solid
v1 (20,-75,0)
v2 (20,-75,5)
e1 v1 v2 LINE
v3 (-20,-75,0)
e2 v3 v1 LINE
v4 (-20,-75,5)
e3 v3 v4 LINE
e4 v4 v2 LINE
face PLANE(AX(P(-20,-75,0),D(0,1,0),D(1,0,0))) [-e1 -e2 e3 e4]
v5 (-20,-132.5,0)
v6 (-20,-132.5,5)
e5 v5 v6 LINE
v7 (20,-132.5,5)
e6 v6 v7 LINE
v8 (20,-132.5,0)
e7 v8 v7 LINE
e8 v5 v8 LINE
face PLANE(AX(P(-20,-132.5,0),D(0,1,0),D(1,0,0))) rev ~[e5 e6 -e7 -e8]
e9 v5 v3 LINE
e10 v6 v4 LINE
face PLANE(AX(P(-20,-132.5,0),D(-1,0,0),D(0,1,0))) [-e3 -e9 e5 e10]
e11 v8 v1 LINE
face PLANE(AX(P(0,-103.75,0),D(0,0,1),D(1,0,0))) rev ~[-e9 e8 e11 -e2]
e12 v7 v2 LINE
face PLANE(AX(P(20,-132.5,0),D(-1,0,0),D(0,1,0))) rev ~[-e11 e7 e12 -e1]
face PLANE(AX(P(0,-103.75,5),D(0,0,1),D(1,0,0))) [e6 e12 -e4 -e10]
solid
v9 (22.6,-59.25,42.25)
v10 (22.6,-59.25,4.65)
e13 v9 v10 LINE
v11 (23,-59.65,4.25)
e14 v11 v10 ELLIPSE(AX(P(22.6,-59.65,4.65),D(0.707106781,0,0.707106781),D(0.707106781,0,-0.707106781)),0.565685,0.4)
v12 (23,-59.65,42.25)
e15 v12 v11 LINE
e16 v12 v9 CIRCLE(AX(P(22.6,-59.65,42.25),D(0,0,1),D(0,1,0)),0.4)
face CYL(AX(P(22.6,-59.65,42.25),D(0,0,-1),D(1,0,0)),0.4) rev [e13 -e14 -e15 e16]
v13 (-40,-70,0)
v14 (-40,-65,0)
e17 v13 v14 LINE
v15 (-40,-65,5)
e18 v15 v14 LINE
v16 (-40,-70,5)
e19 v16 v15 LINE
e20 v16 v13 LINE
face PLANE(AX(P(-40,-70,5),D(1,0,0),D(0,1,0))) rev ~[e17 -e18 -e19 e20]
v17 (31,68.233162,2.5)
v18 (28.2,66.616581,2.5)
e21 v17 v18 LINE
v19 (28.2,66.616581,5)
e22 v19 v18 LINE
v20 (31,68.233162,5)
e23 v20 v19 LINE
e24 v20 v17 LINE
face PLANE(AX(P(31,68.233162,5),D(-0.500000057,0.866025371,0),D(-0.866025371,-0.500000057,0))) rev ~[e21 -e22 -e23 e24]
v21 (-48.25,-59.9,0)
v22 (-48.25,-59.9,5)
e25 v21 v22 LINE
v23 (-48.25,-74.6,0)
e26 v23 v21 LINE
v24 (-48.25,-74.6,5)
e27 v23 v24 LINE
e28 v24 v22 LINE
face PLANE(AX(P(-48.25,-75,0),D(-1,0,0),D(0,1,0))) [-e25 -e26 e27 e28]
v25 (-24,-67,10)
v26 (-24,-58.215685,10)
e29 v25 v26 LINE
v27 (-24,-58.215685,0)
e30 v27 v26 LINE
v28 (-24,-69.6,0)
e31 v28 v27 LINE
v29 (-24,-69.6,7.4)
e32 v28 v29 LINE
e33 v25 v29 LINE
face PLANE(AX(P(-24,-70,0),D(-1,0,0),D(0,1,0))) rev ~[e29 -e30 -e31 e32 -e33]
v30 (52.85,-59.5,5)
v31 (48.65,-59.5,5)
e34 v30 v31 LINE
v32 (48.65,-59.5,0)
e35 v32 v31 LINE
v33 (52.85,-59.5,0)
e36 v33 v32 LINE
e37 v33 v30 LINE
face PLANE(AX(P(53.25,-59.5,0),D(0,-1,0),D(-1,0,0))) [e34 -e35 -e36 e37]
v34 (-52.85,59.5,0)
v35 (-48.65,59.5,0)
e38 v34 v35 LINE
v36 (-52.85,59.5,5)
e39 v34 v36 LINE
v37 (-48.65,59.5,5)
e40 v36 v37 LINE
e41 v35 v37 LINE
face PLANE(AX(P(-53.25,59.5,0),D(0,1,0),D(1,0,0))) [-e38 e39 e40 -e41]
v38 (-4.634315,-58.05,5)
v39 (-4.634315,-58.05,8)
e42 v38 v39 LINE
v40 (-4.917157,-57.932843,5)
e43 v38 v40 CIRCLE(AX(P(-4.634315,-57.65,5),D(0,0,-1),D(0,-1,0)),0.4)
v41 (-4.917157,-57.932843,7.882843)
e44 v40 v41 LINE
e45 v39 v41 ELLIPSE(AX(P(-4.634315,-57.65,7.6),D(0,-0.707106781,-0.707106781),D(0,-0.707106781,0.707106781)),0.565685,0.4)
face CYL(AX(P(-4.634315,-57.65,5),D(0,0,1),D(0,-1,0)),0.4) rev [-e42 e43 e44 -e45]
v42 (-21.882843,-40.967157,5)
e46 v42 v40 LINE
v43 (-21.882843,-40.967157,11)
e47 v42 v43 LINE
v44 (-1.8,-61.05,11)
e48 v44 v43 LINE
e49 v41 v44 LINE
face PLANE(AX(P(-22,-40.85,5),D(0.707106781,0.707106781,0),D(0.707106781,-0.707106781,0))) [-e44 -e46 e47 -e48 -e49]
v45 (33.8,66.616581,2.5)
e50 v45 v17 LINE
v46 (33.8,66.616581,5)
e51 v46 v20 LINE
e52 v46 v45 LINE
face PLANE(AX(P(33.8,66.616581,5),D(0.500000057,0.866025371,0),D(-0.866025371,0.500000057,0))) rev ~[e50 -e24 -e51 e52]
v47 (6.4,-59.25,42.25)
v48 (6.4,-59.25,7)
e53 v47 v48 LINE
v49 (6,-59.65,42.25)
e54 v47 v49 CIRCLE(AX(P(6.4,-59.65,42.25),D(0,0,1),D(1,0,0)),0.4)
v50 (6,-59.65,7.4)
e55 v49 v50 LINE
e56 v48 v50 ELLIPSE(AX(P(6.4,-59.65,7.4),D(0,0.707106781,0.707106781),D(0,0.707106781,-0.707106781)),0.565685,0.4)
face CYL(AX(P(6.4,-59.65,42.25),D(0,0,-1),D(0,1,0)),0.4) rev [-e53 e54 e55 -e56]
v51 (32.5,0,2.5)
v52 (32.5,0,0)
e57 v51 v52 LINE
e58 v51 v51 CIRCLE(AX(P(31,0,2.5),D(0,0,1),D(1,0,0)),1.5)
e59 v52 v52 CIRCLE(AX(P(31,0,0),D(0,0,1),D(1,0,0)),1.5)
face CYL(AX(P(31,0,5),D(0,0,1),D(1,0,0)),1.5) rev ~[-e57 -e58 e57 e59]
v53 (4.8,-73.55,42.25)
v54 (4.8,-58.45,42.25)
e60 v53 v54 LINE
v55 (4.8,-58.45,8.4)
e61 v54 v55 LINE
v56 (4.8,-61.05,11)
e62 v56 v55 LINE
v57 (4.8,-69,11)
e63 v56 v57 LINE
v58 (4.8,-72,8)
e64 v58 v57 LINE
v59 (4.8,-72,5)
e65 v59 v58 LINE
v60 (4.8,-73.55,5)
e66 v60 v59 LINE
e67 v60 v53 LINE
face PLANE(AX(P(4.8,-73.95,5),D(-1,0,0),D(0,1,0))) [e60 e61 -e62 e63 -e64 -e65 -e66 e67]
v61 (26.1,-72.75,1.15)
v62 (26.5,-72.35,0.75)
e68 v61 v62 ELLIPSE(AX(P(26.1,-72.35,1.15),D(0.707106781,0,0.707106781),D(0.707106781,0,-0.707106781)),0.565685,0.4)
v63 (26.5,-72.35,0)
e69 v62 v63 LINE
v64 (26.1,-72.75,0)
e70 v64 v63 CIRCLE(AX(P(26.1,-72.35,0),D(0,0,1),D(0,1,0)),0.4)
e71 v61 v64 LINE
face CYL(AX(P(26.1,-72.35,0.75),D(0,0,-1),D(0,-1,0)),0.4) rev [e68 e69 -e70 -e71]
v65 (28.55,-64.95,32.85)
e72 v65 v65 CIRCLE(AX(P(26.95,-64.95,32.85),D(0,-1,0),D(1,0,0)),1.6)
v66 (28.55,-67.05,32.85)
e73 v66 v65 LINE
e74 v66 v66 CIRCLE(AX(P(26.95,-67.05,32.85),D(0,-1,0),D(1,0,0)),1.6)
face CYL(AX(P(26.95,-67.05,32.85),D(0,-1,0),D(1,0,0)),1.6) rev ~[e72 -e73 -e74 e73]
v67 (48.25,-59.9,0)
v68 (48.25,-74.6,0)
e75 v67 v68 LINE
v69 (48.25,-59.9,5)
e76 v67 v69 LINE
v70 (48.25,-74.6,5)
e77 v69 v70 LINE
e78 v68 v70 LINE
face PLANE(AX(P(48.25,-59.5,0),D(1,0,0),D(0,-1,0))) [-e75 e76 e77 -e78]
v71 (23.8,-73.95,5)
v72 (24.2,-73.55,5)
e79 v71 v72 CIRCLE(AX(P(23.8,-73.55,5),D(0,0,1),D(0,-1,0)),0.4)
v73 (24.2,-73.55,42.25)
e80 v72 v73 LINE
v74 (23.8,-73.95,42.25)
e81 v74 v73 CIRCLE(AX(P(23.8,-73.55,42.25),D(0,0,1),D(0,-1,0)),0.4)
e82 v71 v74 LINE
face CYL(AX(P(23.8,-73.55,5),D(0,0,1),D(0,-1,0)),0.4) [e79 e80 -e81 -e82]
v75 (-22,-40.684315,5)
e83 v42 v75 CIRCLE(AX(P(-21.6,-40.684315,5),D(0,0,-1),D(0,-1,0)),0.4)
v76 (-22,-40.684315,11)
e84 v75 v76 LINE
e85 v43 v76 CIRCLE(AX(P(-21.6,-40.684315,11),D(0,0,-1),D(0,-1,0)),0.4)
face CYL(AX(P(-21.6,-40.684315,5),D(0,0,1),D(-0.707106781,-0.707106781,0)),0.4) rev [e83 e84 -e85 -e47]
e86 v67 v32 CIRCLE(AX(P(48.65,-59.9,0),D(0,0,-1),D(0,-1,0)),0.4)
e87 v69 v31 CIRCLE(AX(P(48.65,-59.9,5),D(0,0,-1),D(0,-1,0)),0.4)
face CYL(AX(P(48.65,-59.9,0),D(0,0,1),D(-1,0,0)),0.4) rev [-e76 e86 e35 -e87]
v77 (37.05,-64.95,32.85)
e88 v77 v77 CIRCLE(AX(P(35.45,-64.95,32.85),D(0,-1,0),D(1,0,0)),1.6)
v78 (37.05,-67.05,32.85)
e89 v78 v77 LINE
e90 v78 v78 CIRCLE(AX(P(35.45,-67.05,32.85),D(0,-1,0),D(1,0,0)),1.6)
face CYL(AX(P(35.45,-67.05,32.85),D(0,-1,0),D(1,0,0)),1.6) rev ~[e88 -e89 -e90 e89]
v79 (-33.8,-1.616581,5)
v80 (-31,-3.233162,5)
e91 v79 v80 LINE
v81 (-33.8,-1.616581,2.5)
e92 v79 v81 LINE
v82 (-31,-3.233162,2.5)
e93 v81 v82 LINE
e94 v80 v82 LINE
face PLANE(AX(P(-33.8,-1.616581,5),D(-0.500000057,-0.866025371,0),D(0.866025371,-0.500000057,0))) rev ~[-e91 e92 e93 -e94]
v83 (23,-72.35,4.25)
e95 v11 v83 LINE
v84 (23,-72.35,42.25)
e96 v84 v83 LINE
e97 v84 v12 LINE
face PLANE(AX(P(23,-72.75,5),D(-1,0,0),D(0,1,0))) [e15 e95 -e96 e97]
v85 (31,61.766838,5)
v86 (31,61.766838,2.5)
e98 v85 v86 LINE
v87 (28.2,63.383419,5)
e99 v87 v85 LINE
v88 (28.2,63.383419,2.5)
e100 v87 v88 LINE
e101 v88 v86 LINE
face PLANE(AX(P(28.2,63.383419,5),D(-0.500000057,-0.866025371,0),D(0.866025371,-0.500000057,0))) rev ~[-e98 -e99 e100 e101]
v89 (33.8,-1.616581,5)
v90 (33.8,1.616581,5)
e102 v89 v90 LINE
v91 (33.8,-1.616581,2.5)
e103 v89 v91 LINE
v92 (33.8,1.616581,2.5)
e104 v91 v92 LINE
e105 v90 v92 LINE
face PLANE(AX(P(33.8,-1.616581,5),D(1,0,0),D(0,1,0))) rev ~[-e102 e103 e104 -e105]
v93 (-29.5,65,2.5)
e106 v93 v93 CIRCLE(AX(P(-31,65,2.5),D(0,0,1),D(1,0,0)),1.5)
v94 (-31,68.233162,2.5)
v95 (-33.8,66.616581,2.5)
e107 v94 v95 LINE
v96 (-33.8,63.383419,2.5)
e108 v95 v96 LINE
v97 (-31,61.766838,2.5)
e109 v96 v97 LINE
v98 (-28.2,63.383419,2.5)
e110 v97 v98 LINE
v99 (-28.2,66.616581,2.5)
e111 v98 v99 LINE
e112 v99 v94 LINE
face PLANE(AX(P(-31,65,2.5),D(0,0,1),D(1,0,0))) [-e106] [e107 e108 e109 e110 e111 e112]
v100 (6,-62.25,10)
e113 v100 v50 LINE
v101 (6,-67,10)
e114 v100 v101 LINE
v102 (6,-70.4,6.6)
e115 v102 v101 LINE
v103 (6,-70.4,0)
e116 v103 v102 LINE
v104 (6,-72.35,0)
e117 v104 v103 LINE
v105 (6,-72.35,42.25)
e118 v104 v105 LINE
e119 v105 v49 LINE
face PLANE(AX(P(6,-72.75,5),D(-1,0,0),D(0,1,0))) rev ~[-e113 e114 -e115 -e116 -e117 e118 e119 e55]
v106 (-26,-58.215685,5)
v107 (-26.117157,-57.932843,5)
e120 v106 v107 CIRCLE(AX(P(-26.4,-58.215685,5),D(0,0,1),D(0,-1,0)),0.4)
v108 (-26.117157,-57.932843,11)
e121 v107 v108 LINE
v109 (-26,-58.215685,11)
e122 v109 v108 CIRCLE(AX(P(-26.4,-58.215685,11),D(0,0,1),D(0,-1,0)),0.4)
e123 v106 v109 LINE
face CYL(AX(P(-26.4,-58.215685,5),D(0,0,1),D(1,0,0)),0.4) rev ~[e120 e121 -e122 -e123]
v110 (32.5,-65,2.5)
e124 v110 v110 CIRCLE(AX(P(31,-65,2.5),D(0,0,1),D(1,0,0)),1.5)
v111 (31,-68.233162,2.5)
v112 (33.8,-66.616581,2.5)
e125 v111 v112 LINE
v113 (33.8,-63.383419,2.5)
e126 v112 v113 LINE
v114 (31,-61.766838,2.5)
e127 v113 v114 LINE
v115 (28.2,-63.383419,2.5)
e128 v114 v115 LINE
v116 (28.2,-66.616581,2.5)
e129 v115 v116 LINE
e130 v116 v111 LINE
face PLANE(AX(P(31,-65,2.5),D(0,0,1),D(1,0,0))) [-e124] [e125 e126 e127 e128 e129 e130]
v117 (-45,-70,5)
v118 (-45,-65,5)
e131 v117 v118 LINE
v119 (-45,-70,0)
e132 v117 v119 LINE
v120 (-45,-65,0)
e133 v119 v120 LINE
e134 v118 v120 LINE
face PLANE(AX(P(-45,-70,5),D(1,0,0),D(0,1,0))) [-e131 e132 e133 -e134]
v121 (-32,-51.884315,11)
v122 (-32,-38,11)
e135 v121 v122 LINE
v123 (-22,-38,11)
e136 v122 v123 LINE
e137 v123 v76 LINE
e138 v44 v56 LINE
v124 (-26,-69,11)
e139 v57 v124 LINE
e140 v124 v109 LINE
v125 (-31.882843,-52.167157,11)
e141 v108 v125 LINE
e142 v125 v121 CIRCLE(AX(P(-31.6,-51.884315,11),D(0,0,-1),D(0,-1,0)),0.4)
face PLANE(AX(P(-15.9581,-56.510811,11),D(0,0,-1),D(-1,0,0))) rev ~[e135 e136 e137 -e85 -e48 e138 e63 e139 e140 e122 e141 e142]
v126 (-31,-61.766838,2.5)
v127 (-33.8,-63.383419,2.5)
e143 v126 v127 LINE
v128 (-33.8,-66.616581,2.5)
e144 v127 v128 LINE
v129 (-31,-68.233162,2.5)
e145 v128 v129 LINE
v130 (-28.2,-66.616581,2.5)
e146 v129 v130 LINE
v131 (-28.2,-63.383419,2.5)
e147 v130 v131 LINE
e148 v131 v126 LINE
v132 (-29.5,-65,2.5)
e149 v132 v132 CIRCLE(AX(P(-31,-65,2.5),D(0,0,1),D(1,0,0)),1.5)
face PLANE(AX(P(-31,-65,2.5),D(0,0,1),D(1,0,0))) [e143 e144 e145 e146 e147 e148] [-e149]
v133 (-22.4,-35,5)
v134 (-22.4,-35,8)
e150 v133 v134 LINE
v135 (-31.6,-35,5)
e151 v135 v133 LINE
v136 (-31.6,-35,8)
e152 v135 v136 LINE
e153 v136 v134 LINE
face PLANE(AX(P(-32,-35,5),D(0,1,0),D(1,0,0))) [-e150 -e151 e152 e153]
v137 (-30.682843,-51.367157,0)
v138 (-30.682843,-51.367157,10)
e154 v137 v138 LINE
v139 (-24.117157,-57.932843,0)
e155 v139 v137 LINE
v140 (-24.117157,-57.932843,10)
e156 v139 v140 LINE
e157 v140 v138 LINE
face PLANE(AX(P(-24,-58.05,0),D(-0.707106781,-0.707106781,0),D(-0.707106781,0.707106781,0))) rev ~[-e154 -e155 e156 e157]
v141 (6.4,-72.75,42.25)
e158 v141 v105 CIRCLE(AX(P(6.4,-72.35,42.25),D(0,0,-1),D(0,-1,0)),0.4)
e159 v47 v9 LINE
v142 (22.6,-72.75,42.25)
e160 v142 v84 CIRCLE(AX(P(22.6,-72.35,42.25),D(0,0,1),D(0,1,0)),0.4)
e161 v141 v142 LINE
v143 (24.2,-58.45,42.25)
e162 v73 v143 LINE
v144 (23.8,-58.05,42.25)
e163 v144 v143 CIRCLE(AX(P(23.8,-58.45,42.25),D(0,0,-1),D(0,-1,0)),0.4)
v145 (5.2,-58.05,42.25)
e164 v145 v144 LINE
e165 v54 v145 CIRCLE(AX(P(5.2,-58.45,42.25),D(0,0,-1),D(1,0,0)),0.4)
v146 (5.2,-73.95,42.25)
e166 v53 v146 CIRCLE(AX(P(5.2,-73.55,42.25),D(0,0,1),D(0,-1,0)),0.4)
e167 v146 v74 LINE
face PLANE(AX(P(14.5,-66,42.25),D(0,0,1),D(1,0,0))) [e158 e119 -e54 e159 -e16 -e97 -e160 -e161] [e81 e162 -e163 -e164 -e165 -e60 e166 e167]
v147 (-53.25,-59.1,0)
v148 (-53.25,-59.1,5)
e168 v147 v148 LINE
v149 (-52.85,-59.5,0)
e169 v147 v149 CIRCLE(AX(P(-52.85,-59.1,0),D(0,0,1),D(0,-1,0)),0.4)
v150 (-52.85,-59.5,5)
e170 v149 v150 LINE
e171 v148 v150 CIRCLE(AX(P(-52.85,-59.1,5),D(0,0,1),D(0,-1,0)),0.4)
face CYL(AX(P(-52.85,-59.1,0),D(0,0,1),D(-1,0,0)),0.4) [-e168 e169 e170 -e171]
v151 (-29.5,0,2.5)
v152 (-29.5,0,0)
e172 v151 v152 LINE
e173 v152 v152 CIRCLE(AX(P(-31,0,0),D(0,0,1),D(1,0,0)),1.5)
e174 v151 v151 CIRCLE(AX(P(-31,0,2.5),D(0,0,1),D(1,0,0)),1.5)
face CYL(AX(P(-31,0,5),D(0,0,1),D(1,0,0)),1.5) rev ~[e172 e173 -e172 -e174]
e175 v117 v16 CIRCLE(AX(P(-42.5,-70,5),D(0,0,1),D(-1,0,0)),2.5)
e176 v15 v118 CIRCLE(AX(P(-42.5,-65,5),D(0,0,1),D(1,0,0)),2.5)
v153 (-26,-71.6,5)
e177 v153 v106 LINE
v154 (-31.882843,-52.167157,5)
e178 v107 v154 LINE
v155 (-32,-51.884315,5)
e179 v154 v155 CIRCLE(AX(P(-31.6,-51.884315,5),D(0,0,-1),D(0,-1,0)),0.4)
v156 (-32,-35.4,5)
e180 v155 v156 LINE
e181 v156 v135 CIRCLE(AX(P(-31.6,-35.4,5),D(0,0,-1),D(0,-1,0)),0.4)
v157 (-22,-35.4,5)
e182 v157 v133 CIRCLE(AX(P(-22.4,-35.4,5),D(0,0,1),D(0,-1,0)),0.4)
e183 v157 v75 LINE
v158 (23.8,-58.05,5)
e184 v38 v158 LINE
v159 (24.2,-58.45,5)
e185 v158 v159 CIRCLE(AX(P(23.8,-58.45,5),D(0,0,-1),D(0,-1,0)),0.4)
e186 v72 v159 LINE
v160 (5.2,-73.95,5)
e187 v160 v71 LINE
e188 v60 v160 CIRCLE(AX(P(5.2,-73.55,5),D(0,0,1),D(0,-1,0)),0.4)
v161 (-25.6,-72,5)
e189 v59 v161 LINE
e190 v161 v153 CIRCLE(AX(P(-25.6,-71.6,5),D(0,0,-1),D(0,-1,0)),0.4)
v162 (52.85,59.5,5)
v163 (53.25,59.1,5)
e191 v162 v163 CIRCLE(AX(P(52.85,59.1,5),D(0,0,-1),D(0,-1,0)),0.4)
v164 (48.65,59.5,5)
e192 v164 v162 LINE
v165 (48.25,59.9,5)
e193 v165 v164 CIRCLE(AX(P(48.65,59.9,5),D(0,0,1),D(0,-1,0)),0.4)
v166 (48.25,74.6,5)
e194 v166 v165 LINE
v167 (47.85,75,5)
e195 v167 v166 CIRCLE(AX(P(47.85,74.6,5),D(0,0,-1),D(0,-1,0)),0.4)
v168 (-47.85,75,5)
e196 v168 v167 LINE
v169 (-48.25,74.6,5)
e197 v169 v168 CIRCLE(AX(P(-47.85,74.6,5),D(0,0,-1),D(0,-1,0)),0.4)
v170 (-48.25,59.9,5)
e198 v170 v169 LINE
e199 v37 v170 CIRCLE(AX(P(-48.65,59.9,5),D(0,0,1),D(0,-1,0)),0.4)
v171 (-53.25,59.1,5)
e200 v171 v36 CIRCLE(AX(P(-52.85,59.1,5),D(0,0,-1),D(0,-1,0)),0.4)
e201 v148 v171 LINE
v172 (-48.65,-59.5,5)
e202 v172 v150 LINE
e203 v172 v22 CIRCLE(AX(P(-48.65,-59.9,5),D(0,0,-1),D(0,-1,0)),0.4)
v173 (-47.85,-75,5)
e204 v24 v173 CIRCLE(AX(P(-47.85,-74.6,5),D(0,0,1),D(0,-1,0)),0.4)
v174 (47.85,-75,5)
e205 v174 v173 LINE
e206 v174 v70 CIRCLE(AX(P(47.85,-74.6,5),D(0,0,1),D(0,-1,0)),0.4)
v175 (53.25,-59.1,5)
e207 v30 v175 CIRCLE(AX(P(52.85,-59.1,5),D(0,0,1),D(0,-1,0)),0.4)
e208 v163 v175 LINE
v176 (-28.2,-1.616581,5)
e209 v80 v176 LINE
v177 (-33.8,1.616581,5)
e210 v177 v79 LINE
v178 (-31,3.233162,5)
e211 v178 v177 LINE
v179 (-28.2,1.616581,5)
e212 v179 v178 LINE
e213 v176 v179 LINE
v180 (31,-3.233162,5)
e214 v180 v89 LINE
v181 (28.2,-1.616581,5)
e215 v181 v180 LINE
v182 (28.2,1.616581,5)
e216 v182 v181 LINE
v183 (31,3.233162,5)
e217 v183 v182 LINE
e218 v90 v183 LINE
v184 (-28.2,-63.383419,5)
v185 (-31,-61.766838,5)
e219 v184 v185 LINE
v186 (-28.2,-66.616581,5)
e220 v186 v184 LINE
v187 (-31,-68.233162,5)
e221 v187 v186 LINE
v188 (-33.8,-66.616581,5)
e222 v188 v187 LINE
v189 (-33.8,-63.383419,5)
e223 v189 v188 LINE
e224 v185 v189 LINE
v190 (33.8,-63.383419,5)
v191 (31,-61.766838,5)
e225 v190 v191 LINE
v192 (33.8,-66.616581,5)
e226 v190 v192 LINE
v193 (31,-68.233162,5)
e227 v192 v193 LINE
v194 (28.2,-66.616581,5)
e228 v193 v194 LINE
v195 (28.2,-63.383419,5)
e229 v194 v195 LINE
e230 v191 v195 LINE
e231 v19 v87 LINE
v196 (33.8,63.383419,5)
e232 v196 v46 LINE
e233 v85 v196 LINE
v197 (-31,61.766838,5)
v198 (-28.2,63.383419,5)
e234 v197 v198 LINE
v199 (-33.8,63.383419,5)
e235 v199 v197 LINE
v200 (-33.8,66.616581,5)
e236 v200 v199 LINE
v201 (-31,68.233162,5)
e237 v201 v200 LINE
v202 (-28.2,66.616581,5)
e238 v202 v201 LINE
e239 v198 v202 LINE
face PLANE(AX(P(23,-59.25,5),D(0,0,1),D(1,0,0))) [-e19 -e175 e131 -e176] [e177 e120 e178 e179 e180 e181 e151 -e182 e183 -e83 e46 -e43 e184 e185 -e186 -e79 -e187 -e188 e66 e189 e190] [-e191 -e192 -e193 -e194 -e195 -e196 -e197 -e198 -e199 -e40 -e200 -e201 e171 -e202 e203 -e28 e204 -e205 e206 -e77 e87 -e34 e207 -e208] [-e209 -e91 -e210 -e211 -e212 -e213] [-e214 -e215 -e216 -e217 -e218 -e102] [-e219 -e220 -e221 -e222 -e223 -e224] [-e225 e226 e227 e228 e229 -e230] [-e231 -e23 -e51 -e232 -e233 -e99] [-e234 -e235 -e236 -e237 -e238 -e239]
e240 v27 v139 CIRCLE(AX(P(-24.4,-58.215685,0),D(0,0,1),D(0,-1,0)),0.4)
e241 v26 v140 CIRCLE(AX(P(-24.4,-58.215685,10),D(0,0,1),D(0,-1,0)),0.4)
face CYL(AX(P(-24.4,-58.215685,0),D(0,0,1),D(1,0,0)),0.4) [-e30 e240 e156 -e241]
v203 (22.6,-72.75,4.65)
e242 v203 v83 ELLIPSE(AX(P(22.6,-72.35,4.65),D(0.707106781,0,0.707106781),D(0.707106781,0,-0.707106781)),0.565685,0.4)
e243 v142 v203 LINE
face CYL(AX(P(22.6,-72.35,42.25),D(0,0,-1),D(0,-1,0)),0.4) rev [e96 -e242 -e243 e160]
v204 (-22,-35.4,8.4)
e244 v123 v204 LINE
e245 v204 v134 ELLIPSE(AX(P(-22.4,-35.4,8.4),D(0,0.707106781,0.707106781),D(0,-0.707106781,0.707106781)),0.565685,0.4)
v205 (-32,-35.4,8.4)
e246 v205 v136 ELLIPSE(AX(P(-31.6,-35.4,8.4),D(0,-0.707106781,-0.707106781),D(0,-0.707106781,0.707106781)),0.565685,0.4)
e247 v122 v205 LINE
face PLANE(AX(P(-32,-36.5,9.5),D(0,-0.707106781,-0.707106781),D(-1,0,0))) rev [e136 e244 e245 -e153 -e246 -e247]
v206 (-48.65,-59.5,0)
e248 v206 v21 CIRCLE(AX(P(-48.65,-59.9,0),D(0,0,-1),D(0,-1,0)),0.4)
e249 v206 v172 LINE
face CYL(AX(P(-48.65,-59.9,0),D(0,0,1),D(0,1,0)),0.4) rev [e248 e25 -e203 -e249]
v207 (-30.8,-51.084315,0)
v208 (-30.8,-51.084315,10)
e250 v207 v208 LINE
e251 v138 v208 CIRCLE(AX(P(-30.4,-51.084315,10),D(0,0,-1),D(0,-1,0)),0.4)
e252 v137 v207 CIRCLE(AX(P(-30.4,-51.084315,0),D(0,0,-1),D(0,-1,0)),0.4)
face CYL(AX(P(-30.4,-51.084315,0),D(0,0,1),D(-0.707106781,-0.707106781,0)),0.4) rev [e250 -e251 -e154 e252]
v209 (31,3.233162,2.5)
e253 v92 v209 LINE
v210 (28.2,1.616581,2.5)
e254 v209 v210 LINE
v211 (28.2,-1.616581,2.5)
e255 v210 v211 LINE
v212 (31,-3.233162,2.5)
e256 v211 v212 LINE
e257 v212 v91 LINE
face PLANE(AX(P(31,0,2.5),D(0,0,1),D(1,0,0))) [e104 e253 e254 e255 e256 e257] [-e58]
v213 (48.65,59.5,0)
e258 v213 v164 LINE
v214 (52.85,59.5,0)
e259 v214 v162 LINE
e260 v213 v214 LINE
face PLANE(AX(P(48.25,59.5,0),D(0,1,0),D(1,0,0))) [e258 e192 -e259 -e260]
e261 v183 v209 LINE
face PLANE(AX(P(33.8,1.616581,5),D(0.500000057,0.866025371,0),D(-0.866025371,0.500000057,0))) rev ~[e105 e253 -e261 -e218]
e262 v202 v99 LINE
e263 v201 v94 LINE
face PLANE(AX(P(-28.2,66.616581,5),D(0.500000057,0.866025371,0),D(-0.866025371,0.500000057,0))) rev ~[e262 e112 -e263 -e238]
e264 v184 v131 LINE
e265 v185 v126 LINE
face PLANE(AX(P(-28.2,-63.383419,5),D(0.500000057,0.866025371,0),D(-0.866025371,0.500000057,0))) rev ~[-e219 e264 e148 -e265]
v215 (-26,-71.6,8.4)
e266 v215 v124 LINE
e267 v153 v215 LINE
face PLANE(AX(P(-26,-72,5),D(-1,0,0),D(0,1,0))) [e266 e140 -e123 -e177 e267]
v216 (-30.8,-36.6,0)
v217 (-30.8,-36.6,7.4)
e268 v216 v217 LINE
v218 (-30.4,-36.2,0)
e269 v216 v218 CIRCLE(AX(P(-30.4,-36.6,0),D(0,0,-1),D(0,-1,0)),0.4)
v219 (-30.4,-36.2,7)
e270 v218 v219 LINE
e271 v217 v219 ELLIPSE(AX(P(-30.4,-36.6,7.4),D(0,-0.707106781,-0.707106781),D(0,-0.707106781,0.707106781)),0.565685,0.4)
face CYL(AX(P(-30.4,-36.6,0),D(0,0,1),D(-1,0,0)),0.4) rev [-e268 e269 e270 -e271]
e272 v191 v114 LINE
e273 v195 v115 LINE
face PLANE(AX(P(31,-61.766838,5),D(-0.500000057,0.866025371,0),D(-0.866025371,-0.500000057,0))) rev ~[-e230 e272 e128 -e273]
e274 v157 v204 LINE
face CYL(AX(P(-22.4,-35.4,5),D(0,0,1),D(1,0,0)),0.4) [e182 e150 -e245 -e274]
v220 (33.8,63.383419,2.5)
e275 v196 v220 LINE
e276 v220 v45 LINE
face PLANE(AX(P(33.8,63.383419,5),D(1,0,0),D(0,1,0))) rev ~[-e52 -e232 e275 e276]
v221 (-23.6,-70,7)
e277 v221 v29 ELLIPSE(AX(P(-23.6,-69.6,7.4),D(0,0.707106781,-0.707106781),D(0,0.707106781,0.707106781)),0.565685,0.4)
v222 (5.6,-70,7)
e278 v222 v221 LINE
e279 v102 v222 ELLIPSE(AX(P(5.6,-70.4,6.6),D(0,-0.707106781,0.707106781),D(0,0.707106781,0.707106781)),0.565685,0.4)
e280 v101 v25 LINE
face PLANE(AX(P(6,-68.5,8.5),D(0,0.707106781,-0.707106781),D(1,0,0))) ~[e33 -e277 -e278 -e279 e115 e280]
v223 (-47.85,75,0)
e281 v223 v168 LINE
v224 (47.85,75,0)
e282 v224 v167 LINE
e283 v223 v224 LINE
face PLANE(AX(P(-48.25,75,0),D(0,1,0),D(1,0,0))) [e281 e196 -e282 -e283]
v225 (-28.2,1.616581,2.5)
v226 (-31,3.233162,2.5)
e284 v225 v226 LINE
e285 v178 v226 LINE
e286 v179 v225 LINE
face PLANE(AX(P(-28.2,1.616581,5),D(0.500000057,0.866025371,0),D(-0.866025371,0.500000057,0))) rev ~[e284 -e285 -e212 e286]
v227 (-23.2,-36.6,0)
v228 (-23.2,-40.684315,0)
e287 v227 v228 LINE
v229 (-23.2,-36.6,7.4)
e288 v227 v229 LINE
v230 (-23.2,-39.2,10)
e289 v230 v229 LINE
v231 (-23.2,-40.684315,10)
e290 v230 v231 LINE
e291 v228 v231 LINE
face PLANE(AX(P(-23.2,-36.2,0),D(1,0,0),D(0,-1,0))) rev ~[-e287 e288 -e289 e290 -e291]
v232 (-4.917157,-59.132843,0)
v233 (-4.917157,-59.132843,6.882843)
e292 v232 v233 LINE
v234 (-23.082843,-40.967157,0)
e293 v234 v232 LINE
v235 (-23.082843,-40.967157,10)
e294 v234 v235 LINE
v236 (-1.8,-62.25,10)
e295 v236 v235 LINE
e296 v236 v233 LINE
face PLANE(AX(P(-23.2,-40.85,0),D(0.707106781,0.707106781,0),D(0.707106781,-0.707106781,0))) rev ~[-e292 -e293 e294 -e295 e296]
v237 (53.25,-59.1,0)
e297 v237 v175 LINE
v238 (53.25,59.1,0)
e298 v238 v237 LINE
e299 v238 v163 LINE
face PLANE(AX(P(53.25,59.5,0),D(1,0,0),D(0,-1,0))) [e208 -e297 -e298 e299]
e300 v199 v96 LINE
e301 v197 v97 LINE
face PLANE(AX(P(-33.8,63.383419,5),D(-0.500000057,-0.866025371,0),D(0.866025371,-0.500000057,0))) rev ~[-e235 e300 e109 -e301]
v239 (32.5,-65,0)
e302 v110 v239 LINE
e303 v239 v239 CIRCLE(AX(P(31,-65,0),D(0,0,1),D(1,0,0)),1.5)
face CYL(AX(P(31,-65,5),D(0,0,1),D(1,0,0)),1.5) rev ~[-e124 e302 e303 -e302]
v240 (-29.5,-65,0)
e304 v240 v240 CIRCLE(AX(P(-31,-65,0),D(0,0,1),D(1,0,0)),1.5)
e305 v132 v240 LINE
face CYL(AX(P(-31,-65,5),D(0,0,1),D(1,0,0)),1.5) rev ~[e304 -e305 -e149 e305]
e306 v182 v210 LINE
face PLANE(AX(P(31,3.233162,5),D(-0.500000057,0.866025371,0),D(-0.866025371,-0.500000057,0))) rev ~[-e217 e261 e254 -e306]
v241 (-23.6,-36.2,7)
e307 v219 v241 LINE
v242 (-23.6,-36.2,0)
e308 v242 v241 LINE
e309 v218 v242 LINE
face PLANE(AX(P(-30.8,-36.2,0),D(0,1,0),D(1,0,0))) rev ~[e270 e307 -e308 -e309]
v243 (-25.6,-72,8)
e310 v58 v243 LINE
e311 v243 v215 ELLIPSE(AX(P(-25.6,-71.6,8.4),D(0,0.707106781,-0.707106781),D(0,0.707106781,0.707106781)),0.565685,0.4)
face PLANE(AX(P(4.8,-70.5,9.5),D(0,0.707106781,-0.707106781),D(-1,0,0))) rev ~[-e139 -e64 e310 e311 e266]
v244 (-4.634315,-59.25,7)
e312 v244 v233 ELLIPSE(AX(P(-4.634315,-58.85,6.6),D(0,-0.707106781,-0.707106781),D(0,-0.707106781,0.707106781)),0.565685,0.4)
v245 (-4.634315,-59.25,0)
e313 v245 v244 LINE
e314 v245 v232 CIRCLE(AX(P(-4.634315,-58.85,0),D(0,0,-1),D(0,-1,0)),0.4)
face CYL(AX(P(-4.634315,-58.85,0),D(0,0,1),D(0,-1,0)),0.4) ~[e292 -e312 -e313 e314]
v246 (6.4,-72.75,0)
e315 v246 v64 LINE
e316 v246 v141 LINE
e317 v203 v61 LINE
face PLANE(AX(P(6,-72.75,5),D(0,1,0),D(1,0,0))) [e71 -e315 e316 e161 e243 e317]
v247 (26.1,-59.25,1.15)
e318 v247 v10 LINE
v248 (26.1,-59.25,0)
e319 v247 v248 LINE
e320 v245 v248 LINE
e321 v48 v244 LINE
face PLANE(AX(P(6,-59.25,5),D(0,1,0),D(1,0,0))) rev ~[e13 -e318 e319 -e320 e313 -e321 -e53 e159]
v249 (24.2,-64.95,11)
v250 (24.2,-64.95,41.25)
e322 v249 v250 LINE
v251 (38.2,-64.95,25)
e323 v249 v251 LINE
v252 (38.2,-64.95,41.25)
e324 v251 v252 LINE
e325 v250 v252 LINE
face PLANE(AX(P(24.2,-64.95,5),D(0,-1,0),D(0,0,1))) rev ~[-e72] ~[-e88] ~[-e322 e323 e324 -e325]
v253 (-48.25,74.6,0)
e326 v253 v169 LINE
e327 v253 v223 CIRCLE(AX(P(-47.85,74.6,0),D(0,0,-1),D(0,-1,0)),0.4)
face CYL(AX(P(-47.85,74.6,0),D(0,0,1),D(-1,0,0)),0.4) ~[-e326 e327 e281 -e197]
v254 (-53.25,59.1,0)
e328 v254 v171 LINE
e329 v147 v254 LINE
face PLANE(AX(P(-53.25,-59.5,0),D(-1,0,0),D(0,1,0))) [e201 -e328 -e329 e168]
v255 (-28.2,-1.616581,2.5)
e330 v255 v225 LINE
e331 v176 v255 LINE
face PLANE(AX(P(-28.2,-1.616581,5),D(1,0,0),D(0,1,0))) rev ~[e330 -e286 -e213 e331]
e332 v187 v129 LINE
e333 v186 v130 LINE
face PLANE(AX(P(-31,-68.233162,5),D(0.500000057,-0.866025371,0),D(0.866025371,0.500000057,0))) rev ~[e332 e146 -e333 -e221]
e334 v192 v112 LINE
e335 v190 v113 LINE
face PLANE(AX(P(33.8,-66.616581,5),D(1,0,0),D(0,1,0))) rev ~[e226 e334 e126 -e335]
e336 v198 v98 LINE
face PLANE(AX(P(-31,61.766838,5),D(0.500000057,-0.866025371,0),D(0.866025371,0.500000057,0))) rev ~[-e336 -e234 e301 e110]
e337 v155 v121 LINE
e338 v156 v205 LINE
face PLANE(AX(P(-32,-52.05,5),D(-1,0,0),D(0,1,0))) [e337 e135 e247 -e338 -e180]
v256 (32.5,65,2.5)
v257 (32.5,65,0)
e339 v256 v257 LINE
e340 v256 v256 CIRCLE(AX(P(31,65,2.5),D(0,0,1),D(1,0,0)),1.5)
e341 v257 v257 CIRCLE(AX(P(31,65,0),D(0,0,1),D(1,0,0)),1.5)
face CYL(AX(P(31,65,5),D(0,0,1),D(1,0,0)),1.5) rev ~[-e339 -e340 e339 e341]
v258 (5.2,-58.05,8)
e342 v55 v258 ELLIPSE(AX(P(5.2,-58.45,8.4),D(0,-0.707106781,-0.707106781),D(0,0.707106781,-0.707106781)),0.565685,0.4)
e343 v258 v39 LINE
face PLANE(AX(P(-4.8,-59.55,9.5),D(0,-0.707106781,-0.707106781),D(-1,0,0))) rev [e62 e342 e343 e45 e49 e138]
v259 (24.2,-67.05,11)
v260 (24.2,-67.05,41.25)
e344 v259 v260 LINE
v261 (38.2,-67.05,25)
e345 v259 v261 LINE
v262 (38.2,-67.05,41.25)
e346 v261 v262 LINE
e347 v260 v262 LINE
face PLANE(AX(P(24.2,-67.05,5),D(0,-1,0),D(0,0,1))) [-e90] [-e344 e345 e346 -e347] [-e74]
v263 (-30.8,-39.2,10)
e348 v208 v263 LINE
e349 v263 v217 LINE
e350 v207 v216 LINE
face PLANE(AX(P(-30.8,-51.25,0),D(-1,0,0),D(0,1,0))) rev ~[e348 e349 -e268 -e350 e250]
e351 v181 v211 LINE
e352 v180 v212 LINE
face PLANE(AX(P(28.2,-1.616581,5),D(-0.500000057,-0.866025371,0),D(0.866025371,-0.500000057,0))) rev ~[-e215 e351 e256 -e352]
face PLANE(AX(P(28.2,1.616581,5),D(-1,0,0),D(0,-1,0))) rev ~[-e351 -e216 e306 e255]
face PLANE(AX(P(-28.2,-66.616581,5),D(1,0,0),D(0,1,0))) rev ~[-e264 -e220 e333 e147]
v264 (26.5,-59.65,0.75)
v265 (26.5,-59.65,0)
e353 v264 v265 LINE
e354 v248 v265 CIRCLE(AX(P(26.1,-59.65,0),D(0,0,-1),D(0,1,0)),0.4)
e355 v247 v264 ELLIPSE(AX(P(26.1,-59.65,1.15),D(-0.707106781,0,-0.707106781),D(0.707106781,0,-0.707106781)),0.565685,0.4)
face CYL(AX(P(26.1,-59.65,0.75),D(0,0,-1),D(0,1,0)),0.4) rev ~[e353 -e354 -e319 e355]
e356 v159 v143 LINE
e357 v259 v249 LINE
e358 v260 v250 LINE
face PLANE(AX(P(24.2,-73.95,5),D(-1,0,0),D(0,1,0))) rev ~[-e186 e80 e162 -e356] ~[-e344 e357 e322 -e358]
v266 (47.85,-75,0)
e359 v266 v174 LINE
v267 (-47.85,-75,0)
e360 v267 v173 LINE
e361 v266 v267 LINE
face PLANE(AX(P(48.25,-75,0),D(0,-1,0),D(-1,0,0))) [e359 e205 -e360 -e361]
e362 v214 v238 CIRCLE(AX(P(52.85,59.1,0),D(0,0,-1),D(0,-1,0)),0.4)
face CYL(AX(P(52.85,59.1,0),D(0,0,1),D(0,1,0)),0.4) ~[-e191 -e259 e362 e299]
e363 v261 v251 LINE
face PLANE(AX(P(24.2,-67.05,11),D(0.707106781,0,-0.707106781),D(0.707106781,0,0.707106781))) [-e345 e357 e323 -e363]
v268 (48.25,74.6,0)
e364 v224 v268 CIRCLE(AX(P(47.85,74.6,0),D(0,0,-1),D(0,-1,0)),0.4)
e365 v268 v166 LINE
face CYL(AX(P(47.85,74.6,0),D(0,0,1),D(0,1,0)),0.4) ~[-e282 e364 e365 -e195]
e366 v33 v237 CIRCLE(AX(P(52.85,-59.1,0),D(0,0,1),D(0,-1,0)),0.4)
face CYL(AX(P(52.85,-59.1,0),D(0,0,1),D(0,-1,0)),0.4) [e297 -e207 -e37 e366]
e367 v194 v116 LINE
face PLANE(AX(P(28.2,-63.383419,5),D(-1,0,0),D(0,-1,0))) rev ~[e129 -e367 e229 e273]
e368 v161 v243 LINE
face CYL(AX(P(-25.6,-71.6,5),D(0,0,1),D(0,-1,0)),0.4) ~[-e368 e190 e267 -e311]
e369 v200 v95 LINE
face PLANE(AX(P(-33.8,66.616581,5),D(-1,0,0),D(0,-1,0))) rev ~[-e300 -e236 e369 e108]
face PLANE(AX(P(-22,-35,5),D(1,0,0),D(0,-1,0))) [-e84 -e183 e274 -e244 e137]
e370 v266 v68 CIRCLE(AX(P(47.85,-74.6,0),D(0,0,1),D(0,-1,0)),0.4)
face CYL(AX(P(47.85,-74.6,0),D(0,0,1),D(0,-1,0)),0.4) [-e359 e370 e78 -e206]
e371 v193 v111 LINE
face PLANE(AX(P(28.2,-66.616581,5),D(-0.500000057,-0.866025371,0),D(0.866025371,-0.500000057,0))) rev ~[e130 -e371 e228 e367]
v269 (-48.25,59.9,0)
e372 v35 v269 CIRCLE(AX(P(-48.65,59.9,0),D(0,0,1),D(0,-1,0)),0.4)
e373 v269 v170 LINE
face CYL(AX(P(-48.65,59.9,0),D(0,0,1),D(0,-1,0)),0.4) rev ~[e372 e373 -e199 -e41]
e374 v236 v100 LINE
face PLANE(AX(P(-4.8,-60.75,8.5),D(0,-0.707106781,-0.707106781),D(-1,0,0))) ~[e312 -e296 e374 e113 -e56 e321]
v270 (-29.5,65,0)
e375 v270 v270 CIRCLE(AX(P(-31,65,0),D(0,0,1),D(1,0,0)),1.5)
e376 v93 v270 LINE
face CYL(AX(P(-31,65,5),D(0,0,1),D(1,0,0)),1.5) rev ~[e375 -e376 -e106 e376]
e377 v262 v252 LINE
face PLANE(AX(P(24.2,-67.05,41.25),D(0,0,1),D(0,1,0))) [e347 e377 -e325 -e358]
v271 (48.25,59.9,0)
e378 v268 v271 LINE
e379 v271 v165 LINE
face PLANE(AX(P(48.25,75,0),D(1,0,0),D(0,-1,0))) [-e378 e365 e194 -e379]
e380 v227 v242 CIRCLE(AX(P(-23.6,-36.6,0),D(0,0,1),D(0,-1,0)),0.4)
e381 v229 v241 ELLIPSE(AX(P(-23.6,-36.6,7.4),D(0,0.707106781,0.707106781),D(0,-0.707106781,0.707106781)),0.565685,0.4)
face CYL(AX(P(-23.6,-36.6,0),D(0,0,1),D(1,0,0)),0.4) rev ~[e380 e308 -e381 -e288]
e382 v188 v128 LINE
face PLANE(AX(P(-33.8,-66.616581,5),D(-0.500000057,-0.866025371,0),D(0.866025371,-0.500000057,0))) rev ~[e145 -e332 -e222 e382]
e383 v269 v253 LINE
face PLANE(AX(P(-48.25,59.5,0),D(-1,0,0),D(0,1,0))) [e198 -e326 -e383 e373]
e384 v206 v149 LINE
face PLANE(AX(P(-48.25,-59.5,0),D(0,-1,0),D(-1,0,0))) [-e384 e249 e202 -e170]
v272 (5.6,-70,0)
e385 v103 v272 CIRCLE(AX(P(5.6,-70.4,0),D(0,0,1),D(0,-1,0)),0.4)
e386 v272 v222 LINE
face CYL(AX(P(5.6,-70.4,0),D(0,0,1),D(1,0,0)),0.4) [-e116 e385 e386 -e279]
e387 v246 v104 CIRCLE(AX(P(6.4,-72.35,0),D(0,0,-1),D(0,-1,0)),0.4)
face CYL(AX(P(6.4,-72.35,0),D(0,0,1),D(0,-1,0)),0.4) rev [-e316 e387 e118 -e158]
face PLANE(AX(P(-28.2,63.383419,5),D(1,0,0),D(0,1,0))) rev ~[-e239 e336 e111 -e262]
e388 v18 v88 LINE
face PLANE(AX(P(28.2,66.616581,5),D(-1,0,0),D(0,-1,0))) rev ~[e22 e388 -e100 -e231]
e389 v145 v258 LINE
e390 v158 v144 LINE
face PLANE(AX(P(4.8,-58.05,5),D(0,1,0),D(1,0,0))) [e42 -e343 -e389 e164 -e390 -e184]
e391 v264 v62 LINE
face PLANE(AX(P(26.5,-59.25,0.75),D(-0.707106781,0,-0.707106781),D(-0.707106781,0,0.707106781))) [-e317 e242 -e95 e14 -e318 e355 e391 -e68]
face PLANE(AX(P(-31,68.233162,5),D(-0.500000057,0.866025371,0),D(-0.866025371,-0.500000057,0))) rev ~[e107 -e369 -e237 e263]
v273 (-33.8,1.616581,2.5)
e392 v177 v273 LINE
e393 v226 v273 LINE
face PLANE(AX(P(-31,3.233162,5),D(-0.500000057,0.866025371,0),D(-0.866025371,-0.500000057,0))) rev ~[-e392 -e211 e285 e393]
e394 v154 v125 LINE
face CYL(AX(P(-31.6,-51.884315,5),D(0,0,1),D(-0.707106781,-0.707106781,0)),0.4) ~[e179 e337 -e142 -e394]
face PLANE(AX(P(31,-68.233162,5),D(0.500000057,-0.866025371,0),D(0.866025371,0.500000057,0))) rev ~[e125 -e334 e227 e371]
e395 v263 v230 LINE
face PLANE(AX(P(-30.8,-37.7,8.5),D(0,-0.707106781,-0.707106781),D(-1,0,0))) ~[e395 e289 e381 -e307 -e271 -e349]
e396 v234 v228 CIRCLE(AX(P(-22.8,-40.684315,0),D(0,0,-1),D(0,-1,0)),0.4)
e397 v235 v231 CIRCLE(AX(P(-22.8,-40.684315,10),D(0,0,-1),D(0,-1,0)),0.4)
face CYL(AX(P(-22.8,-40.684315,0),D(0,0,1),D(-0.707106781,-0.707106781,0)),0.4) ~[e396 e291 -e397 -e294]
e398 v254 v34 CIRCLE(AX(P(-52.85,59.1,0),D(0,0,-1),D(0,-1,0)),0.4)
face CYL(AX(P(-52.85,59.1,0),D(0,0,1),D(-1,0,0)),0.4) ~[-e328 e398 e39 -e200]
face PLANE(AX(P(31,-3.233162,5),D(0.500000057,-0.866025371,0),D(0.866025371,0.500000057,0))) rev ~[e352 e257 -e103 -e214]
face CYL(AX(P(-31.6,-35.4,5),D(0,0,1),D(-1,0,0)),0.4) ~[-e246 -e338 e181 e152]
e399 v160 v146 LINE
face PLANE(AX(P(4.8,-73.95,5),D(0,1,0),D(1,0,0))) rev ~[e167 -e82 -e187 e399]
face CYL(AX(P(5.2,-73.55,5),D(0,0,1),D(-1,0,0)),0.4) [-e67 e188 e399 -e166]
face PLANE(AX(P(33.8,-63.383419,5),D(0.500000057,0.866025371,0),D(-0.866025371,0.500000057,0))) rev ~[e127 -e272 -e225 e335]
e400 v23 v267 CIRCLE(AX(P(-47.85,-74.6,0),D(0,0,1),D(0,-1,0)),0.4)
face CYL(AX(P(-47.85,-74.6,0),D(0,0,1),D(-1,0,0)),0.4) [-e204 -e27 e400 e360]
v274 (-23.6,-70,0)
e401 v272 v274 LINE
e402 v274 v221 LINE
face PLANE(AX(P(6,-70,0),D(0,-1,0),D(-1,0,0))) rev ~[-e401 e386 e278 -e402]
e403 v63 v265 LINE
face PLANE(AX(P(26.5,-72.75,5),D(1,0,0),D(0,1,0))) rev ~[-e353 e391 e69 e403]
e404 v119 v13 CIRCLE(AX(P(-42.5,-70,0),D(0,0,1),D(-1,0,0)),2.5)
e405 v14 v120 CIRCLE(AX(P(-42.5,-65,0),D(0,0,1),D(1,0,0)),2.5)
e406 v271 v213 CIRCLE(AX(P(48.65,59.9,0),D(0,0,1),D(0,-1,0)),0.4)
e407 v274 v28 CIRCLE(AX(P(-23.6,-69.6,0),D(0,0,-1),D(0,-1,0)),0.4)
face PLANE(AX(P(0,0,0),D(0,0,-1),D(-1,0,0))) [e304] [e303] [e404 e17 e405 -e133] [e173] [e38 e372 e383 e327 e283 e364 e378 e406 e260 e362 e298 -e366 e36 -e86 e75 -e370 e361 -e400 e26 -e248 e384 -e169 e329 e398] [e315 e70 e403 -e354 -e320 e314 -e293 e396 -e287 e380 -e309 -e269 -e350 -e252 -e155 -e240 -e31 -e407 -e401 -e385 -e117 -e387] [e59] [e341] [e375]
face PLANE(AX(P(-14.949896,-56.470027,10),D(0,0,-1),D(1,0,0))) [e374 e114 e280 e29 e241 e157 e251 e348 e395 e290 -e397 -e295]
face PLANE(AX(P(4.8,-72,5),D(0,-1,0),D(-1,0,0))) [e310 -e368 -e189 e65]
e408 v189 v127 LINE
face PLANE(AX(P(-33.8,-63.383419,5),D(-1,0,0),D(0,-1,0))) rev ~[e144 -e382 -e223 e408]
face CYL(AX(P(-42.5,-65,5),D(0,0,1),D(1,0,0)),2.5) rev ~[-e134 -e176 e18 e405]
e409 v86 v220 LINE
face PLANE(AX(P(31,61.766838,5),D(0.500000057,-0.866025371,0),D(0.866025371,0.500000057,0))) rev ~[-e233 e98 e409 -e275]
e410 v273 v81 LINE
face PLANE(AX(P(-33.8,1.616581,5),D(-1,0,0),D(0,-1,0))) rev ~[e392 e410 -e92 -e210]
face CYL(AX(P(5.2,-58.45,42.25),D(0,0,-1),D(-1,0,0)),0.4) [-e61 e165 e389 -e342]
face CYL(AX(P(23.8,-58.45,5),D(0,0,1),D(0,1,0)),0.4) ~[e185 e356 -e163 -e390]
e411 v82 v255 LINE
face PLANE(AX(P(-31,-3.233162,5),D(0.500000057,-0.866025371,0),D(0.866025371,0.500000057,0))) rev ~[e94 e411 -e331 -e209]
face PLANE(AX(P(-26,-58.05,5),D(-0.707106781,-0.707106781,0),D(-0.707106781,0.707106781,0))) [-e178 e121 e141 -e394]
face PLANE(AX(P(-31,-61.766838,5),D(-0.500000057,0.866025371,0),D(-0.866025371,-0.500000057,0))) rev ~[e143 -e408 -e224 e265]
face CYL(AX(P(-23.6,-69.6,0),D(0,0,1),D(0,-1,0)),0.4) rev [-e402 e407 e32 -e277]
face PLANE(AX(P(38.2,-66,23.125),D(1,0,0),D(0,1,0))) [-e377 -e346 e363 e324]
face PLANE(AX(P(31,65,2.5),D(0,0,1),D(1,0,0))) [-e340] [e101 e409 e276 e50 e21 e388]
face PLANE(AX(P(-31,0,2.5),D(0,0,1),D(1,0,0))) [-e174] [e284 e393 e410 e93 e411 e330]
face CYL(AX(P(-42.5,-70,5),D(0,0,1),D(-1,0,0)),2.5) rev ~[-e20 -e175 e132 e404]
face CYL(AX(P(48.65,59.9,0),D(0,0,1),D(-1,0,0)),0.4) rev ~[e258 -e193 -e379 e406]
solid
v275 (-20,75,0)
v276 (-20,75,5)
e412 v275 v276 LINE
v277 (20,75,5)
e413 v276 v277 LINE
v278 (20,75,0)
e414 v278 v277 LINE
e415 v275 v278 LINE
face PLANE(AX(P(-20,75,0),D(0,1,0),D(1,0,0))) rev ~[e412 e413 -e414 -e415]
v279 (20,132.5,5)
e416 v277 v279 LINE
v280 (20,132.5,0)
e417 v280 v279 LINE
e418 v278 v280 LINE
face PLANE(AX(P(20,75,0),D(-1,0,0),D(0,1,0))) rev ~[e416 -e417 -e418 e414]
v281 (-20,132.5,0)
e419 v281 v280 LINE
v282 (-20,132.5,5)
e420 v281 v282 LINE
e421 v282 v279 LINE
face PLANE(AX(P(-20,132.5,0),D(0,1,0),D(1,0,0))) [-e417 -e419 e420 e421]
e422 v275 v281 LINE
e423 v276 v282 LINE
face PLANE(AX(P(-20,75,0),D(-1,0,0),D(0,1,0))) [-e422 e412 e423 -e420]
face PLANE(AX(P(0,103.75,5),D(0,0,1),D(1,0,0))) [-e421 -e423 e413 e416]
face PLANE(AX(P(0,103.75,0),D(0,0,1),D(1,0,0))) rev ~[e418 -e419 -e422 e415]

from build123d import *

# Parameters (mm, degrees)
SKETCH417_W     = 40
SKETCH417_H     = 57.5
PAD197_DEPTH    = 5
SKETCH418_W     = 40
SKETCH418_H     = 57.5
PAD198_DEPTH    = 5
PAD_DEPTH       = 5
SKETCH002_R     = 1.5
POCKET_DEPTH    = 2.5
SKETCH003_R     = 1.5
POCKET001_DEPTH = 5
SKETCH004_W     = 20.5
SKETCH004_H     = 13.5
POCKET002_DEPTH = 5
PAD001_DEPTH    = 13.5
SKETCH007_W     = 19.4
SKETCH007_H     = 15.9
SKETCH007_W_2   = 17
SKETCH007_H_2   = 13.5
PAD002_DEPTH    = 37.25
SKETCH008_W     = 2.1
SKETCH008_H     = 36.25
PAD003_DEPTH    = 14
POCKET003_DEPTH = 2.1
SKETCH010_R     = 1.6
POCKET004_DEPTH = 2.1
PAD193_DEPTH    = 6
POCKET198_DEPTH = 10
CHAMFER_SIZE    = 3
POCKET218_DEPTH = 5
FILLET_R        = 0.4


with BuildPart() as circuitry_mountingplate_front_extension:
    # Sketch417 → Pad197 (new body)
    with BuildSketch(Plane.XY):
        with Locations((0, 103.75)):
            Rectangle(SKETCH417_W, SKETCH417_H)
    extrude(amount=PAD197_DEPTH)


with BuildPart() as circuitry_mountingplate_rear_extension:
    # Sketch418 → Pad198 (new body)
    with BuildSketch(Plane.XY):
        with Locations((0, -103.75)):
            Rectangle(SKETCH418_W, SKETCH418_H)
    extrude(amount=PAD198_DEPTH)


with BuildPart() as circuitry_mountingplate_base:
    # Sketch → Pad (new body)
    with BuildSketch(Plane.XY):
        Polygon((-53.25, -59.5), (-53.25, 59.5), (-48.25, 59.5), (-48.25, 75), (48.25, 75), (48.25, 59.5), (53.25, 59.5), (53.25, -59.5), (48.25, -59.5), (48.25, -75), (-48.25, -75), (-48.25, -59.5), align=None)
    extrude(amount=PAD_DEPTH)

    # Sketch002 (on Face14 of Pad) → Pocket (cut)
    with BuildSketch(Plane.XY.offset(5)):
        Polygon((-31, -61.766838), (-33.8, -63.383419), (-33.8, -66.616581), (-31, -68.233162), (-28.2, -66.616581), (-28.2, -63.383419), align=None)
        with Locations((-31, -65)):
            Circle(SKETCH002_R, mode=Mode.SUBTRACT)
        Polygon((31, -61.766838), (28.2, -63.383419), (28.2, -66.616581), (31, -68.233162), (33.8, -66.616581), (33.8, -63.383419), align=None)
        with Locations((31, -65)):
            Circle(SKETCH002_R, mode=Mode.SUBTRACT)
        Polygon((31, 3.233162), (28.2, 1.616581), (28.2, -1.616581), (31, -3.233162), (33.8, -1.616581), (33.8, 1.616581), align=None)
        with Locations((31, 0)):
            Circle(SKETCH002_R, mode=Mode.SUBTRACT)
        Polygon((-31, 3.233162), (-33.8, 1.616581), (-33.8, -1.616581), (-31, -3.233162), (-28.2, -1.616581), (-28.2, 1.616581), align=None)
        with Locations((-31, 0)):
            Circle(SKETCH002_R, mode=Mode.SUBTRACT)
        Polygon((-31, 68.233162), (-33.8, 66.616581), (-33.8, 63.383419), (-31, 61.766838), (-28.2, 63.383419), (-28.2, 66.616581), align=None)
        with Locations((-31, 65)):
            Circle(SKETCH002_R, mode=Mode.SUBTRACT)
        Polygon((31, 68.233162), (28.2, 66.616581), (28.2, 63.383419), (31, 61.766838), (33.8, 63.383419), (33.8, 66.616581), align=None)
        with Locations((31, 65)):
            Circle(SKETCH002_R, mode=Mode.SUBTRACT)
    extrude(amount=-POCKET_DEPTH, mode=Mode.SUBTRACT)

    # Sketch003 (on Face63 of Pocket) → Pocket001 (cut)
    with BuildSketch(Plane.XY.offset(5)):
        with Locations((-31, 65)):
            Circle(SKETCH003_R)
        with Locations((31, 65)):
            Circle(SKETCH003_R)
        with Locations((31, 0)):
            Circle(SKETCH003_R)
        with Locations((-31, 0)):
            Circle(SKETCH003_R)
        with Locations((-31, -65)):
            Circle(SKETCH003_R)
        with Locations((31, -65)):
            Circle(SKETCH003_R)
    extrude(amount=-POCKET001_DEPTH, mode=Mode.SUBTRACT)

    # Sketch004 (on Face5 of Pocket001) → Pocket002 (cut)
    with BuildSketch(Plane.XY.offset(5)):
        with Locations((16.25, -66)):
            Rectangle(SKETCH004_W, SKETCH004_H)
    extrude(amount=-POCKET002_DEPTH, mode=Mode.SUBTRACT)

    # Sketch006 (on Face20 of Pocket002) → Pad001 (join)
    with BuildSketch(Plane.XZ.offset(59.25)):
        Polygon((26.5, 0.75), (23, 4.25), (23, 5), (26.5, 5), align=None)
    extrude(amount=PAD001_DEPTH)

    # Sketch007 (on Face5 of Pad001) → Pad002 (join)
    with BuildSketch(Plane.XY.offset(5)):
        with Locations((14.5, -66)):
            Rectangle(SKETCH007_W, SKETCH007_H)
        with Locations((14.5, -66)):
            Rectangle(SKETCH007_W_2, SKETCH007_H_2, mode=Mode.SUBTRACT)
    extrude(amount=PAD002_DEPTH)

    # Sketch008 (on Face38 of Pad002) → Pad003 (join)
    with BuildSketch(Plane.YZ.offset(24.2)):
        with Locations((-66, 23.125)):
            Rectangle(SKETCH008_W, SKETCH008_H)
    extrude(amount=PAD003_DEPTH)

    # Sketch009 (on Face52 of Pad003) → Pocket003 (cut)
    with BuildSketch(Plane.XZ.offset(67.05)):
        Polygon((24.2, 5), (24.2, 11), (38.2, 25), (38.2, 5), align=None)
    extrude(amount=-POCKET003_DEPTH, mode=Mode.SUBTRACT)

    # Sketch010 (on Face83 of Pocket003) → Pocket004 (cut)
    with BuildSketch(Plane.XZ.offset(67.05)):
        with Locations((26.95, 32.85)):
            Circle(SKETCH010_R)
        with Locations((35.45, 32.85)):
            Circle(SKETCH010_R)
    extrude(amount=-POCKET004_DEPTH, mode=Mode.SUBTRACT)

    # Sketch410 (on Face5 of Pocket004) → Pad193 (join)
    with BuildSketch(Plane.XY.offset(5)):
        Polygon((4.8, -72), (-26, -72), (-26, -58.05), (-32, -52.05), (-32, -35), (-22, -35), (-22, -40.85), (-4.8, -58.05), (4.8, -58.05), align=None)
    extrude(amount=PAD193_DEPTH)

    # Sketch414 (on Face4 of Pad193) → Pocket198 (cut)
    with BuildSketch(Plane(origin=(0, 0, 0), x_dir=(1, 0, 0), z_dir=(0, 0, -1))):
        Polygon((6, 70), (-24, 70), (-24, 58.05), (-30.8, 51.25), (-30.8, 36.2), (-23.2, 36.2), (-23.2, 40.85), (-4.8, 59.25), (6, 59.25), align=None)
    extrude(amount=-POCKET198_DEPTH, mode=Mode.SUBTRACT)

    # Chamfer
    chamfer_edges = [circuitry_mountingplate_base.edges().sort_by_distance(p)[0] for p in [
        (-10.6, -72, 11),
        (0, -58.05, 11),
        (-27, -35, 11),
        (-27, -36.2, 10),
        (0.6, -59.25, 10),
        (-9, -70, 10),
    ]]
    chamfer(chamfer_edges, length=CHAMFER_SIZE)

    # Sketch449 → Pocket218 (cut)
    with BuildSketch(Plane.XY.offset(5)):
        with BuildLine():
            ThreePointArc((-45, -70), (-42.5, -72.5), (-40, -70))
            Line((-40, -70), (-40, -65))
            ThreePointArc((-40, -65), (-42.5, -62.5), (-45, -65))
            Line((-45, -70), (-45, -65))
        make_face()
    extrude(amount=-POCKET218_DEPTH, mode=Mode.SUBTRACT)

    # Fillet
    fillet_edges = [circuitry_mountingplate_base.edges().sort_by_distance(p)[0] for p in [
        (48.25, -75, 2.5),
        (48.25, -59.5, 2.5),
        (53.25, -59.5, 2.5),
        (53.25, 59.5, 2.5),
        (48.25, 59.5, 2.5),
        (48.25, 75, 2.5),
        (-48.25, 75, 2.5),
        (-48.25, 59.5, 2.5),
        (-53.25, 59.5, 2.5),
        (-53.25, -59.5, 2.5),
        (-48.25, -59.5, 2.5),
        (-48.25, -75, 2.5),
        (-30.8, -36.2, 3.5),
        (-24, -58.05, 5),
        (-30.8, -51.25, 5),
        (-24, -70, 3.5),
        (6, -70, 2.5),
        (6, -72.75, 2.5),
        (26.5, -72.75, 0.375),
        (26.5, -59.25, 0.375),
        (-4.8, -59.25, 3.5),
        (-23.2, -40.85, 5),
        (-23.2, -36.2, 3.5),
        (23, -59.25, 23.625),
        (23, -72.75, 23.625),
        (6, -72.75, 23.625),
        (6, -59.25, 8.5),
        (24.2, -73.95, 23.625),
        (24.2, -58.05, 23.625),
        (4.8, -58.05, 26.625),
        (4.8, -73.95, 23.625),
        (-26, -72, 6.5),
        (-26, -58.05, 8),
        (-32, -52.05, 8),
        (-32, -35, 6.5),
        (-22, -35, 6.5),
        (-22, -40.85, 8),
        (-4.8, -58.05, 6.5),
    ]]
    fillet(fillet_edges, radius=FILLET_R)


solid = Compound([circuitry_mountingplate_front_extension.part, circuitry_mountingplate_rear_extension.part, circuitry_mountingplate_base.part])
